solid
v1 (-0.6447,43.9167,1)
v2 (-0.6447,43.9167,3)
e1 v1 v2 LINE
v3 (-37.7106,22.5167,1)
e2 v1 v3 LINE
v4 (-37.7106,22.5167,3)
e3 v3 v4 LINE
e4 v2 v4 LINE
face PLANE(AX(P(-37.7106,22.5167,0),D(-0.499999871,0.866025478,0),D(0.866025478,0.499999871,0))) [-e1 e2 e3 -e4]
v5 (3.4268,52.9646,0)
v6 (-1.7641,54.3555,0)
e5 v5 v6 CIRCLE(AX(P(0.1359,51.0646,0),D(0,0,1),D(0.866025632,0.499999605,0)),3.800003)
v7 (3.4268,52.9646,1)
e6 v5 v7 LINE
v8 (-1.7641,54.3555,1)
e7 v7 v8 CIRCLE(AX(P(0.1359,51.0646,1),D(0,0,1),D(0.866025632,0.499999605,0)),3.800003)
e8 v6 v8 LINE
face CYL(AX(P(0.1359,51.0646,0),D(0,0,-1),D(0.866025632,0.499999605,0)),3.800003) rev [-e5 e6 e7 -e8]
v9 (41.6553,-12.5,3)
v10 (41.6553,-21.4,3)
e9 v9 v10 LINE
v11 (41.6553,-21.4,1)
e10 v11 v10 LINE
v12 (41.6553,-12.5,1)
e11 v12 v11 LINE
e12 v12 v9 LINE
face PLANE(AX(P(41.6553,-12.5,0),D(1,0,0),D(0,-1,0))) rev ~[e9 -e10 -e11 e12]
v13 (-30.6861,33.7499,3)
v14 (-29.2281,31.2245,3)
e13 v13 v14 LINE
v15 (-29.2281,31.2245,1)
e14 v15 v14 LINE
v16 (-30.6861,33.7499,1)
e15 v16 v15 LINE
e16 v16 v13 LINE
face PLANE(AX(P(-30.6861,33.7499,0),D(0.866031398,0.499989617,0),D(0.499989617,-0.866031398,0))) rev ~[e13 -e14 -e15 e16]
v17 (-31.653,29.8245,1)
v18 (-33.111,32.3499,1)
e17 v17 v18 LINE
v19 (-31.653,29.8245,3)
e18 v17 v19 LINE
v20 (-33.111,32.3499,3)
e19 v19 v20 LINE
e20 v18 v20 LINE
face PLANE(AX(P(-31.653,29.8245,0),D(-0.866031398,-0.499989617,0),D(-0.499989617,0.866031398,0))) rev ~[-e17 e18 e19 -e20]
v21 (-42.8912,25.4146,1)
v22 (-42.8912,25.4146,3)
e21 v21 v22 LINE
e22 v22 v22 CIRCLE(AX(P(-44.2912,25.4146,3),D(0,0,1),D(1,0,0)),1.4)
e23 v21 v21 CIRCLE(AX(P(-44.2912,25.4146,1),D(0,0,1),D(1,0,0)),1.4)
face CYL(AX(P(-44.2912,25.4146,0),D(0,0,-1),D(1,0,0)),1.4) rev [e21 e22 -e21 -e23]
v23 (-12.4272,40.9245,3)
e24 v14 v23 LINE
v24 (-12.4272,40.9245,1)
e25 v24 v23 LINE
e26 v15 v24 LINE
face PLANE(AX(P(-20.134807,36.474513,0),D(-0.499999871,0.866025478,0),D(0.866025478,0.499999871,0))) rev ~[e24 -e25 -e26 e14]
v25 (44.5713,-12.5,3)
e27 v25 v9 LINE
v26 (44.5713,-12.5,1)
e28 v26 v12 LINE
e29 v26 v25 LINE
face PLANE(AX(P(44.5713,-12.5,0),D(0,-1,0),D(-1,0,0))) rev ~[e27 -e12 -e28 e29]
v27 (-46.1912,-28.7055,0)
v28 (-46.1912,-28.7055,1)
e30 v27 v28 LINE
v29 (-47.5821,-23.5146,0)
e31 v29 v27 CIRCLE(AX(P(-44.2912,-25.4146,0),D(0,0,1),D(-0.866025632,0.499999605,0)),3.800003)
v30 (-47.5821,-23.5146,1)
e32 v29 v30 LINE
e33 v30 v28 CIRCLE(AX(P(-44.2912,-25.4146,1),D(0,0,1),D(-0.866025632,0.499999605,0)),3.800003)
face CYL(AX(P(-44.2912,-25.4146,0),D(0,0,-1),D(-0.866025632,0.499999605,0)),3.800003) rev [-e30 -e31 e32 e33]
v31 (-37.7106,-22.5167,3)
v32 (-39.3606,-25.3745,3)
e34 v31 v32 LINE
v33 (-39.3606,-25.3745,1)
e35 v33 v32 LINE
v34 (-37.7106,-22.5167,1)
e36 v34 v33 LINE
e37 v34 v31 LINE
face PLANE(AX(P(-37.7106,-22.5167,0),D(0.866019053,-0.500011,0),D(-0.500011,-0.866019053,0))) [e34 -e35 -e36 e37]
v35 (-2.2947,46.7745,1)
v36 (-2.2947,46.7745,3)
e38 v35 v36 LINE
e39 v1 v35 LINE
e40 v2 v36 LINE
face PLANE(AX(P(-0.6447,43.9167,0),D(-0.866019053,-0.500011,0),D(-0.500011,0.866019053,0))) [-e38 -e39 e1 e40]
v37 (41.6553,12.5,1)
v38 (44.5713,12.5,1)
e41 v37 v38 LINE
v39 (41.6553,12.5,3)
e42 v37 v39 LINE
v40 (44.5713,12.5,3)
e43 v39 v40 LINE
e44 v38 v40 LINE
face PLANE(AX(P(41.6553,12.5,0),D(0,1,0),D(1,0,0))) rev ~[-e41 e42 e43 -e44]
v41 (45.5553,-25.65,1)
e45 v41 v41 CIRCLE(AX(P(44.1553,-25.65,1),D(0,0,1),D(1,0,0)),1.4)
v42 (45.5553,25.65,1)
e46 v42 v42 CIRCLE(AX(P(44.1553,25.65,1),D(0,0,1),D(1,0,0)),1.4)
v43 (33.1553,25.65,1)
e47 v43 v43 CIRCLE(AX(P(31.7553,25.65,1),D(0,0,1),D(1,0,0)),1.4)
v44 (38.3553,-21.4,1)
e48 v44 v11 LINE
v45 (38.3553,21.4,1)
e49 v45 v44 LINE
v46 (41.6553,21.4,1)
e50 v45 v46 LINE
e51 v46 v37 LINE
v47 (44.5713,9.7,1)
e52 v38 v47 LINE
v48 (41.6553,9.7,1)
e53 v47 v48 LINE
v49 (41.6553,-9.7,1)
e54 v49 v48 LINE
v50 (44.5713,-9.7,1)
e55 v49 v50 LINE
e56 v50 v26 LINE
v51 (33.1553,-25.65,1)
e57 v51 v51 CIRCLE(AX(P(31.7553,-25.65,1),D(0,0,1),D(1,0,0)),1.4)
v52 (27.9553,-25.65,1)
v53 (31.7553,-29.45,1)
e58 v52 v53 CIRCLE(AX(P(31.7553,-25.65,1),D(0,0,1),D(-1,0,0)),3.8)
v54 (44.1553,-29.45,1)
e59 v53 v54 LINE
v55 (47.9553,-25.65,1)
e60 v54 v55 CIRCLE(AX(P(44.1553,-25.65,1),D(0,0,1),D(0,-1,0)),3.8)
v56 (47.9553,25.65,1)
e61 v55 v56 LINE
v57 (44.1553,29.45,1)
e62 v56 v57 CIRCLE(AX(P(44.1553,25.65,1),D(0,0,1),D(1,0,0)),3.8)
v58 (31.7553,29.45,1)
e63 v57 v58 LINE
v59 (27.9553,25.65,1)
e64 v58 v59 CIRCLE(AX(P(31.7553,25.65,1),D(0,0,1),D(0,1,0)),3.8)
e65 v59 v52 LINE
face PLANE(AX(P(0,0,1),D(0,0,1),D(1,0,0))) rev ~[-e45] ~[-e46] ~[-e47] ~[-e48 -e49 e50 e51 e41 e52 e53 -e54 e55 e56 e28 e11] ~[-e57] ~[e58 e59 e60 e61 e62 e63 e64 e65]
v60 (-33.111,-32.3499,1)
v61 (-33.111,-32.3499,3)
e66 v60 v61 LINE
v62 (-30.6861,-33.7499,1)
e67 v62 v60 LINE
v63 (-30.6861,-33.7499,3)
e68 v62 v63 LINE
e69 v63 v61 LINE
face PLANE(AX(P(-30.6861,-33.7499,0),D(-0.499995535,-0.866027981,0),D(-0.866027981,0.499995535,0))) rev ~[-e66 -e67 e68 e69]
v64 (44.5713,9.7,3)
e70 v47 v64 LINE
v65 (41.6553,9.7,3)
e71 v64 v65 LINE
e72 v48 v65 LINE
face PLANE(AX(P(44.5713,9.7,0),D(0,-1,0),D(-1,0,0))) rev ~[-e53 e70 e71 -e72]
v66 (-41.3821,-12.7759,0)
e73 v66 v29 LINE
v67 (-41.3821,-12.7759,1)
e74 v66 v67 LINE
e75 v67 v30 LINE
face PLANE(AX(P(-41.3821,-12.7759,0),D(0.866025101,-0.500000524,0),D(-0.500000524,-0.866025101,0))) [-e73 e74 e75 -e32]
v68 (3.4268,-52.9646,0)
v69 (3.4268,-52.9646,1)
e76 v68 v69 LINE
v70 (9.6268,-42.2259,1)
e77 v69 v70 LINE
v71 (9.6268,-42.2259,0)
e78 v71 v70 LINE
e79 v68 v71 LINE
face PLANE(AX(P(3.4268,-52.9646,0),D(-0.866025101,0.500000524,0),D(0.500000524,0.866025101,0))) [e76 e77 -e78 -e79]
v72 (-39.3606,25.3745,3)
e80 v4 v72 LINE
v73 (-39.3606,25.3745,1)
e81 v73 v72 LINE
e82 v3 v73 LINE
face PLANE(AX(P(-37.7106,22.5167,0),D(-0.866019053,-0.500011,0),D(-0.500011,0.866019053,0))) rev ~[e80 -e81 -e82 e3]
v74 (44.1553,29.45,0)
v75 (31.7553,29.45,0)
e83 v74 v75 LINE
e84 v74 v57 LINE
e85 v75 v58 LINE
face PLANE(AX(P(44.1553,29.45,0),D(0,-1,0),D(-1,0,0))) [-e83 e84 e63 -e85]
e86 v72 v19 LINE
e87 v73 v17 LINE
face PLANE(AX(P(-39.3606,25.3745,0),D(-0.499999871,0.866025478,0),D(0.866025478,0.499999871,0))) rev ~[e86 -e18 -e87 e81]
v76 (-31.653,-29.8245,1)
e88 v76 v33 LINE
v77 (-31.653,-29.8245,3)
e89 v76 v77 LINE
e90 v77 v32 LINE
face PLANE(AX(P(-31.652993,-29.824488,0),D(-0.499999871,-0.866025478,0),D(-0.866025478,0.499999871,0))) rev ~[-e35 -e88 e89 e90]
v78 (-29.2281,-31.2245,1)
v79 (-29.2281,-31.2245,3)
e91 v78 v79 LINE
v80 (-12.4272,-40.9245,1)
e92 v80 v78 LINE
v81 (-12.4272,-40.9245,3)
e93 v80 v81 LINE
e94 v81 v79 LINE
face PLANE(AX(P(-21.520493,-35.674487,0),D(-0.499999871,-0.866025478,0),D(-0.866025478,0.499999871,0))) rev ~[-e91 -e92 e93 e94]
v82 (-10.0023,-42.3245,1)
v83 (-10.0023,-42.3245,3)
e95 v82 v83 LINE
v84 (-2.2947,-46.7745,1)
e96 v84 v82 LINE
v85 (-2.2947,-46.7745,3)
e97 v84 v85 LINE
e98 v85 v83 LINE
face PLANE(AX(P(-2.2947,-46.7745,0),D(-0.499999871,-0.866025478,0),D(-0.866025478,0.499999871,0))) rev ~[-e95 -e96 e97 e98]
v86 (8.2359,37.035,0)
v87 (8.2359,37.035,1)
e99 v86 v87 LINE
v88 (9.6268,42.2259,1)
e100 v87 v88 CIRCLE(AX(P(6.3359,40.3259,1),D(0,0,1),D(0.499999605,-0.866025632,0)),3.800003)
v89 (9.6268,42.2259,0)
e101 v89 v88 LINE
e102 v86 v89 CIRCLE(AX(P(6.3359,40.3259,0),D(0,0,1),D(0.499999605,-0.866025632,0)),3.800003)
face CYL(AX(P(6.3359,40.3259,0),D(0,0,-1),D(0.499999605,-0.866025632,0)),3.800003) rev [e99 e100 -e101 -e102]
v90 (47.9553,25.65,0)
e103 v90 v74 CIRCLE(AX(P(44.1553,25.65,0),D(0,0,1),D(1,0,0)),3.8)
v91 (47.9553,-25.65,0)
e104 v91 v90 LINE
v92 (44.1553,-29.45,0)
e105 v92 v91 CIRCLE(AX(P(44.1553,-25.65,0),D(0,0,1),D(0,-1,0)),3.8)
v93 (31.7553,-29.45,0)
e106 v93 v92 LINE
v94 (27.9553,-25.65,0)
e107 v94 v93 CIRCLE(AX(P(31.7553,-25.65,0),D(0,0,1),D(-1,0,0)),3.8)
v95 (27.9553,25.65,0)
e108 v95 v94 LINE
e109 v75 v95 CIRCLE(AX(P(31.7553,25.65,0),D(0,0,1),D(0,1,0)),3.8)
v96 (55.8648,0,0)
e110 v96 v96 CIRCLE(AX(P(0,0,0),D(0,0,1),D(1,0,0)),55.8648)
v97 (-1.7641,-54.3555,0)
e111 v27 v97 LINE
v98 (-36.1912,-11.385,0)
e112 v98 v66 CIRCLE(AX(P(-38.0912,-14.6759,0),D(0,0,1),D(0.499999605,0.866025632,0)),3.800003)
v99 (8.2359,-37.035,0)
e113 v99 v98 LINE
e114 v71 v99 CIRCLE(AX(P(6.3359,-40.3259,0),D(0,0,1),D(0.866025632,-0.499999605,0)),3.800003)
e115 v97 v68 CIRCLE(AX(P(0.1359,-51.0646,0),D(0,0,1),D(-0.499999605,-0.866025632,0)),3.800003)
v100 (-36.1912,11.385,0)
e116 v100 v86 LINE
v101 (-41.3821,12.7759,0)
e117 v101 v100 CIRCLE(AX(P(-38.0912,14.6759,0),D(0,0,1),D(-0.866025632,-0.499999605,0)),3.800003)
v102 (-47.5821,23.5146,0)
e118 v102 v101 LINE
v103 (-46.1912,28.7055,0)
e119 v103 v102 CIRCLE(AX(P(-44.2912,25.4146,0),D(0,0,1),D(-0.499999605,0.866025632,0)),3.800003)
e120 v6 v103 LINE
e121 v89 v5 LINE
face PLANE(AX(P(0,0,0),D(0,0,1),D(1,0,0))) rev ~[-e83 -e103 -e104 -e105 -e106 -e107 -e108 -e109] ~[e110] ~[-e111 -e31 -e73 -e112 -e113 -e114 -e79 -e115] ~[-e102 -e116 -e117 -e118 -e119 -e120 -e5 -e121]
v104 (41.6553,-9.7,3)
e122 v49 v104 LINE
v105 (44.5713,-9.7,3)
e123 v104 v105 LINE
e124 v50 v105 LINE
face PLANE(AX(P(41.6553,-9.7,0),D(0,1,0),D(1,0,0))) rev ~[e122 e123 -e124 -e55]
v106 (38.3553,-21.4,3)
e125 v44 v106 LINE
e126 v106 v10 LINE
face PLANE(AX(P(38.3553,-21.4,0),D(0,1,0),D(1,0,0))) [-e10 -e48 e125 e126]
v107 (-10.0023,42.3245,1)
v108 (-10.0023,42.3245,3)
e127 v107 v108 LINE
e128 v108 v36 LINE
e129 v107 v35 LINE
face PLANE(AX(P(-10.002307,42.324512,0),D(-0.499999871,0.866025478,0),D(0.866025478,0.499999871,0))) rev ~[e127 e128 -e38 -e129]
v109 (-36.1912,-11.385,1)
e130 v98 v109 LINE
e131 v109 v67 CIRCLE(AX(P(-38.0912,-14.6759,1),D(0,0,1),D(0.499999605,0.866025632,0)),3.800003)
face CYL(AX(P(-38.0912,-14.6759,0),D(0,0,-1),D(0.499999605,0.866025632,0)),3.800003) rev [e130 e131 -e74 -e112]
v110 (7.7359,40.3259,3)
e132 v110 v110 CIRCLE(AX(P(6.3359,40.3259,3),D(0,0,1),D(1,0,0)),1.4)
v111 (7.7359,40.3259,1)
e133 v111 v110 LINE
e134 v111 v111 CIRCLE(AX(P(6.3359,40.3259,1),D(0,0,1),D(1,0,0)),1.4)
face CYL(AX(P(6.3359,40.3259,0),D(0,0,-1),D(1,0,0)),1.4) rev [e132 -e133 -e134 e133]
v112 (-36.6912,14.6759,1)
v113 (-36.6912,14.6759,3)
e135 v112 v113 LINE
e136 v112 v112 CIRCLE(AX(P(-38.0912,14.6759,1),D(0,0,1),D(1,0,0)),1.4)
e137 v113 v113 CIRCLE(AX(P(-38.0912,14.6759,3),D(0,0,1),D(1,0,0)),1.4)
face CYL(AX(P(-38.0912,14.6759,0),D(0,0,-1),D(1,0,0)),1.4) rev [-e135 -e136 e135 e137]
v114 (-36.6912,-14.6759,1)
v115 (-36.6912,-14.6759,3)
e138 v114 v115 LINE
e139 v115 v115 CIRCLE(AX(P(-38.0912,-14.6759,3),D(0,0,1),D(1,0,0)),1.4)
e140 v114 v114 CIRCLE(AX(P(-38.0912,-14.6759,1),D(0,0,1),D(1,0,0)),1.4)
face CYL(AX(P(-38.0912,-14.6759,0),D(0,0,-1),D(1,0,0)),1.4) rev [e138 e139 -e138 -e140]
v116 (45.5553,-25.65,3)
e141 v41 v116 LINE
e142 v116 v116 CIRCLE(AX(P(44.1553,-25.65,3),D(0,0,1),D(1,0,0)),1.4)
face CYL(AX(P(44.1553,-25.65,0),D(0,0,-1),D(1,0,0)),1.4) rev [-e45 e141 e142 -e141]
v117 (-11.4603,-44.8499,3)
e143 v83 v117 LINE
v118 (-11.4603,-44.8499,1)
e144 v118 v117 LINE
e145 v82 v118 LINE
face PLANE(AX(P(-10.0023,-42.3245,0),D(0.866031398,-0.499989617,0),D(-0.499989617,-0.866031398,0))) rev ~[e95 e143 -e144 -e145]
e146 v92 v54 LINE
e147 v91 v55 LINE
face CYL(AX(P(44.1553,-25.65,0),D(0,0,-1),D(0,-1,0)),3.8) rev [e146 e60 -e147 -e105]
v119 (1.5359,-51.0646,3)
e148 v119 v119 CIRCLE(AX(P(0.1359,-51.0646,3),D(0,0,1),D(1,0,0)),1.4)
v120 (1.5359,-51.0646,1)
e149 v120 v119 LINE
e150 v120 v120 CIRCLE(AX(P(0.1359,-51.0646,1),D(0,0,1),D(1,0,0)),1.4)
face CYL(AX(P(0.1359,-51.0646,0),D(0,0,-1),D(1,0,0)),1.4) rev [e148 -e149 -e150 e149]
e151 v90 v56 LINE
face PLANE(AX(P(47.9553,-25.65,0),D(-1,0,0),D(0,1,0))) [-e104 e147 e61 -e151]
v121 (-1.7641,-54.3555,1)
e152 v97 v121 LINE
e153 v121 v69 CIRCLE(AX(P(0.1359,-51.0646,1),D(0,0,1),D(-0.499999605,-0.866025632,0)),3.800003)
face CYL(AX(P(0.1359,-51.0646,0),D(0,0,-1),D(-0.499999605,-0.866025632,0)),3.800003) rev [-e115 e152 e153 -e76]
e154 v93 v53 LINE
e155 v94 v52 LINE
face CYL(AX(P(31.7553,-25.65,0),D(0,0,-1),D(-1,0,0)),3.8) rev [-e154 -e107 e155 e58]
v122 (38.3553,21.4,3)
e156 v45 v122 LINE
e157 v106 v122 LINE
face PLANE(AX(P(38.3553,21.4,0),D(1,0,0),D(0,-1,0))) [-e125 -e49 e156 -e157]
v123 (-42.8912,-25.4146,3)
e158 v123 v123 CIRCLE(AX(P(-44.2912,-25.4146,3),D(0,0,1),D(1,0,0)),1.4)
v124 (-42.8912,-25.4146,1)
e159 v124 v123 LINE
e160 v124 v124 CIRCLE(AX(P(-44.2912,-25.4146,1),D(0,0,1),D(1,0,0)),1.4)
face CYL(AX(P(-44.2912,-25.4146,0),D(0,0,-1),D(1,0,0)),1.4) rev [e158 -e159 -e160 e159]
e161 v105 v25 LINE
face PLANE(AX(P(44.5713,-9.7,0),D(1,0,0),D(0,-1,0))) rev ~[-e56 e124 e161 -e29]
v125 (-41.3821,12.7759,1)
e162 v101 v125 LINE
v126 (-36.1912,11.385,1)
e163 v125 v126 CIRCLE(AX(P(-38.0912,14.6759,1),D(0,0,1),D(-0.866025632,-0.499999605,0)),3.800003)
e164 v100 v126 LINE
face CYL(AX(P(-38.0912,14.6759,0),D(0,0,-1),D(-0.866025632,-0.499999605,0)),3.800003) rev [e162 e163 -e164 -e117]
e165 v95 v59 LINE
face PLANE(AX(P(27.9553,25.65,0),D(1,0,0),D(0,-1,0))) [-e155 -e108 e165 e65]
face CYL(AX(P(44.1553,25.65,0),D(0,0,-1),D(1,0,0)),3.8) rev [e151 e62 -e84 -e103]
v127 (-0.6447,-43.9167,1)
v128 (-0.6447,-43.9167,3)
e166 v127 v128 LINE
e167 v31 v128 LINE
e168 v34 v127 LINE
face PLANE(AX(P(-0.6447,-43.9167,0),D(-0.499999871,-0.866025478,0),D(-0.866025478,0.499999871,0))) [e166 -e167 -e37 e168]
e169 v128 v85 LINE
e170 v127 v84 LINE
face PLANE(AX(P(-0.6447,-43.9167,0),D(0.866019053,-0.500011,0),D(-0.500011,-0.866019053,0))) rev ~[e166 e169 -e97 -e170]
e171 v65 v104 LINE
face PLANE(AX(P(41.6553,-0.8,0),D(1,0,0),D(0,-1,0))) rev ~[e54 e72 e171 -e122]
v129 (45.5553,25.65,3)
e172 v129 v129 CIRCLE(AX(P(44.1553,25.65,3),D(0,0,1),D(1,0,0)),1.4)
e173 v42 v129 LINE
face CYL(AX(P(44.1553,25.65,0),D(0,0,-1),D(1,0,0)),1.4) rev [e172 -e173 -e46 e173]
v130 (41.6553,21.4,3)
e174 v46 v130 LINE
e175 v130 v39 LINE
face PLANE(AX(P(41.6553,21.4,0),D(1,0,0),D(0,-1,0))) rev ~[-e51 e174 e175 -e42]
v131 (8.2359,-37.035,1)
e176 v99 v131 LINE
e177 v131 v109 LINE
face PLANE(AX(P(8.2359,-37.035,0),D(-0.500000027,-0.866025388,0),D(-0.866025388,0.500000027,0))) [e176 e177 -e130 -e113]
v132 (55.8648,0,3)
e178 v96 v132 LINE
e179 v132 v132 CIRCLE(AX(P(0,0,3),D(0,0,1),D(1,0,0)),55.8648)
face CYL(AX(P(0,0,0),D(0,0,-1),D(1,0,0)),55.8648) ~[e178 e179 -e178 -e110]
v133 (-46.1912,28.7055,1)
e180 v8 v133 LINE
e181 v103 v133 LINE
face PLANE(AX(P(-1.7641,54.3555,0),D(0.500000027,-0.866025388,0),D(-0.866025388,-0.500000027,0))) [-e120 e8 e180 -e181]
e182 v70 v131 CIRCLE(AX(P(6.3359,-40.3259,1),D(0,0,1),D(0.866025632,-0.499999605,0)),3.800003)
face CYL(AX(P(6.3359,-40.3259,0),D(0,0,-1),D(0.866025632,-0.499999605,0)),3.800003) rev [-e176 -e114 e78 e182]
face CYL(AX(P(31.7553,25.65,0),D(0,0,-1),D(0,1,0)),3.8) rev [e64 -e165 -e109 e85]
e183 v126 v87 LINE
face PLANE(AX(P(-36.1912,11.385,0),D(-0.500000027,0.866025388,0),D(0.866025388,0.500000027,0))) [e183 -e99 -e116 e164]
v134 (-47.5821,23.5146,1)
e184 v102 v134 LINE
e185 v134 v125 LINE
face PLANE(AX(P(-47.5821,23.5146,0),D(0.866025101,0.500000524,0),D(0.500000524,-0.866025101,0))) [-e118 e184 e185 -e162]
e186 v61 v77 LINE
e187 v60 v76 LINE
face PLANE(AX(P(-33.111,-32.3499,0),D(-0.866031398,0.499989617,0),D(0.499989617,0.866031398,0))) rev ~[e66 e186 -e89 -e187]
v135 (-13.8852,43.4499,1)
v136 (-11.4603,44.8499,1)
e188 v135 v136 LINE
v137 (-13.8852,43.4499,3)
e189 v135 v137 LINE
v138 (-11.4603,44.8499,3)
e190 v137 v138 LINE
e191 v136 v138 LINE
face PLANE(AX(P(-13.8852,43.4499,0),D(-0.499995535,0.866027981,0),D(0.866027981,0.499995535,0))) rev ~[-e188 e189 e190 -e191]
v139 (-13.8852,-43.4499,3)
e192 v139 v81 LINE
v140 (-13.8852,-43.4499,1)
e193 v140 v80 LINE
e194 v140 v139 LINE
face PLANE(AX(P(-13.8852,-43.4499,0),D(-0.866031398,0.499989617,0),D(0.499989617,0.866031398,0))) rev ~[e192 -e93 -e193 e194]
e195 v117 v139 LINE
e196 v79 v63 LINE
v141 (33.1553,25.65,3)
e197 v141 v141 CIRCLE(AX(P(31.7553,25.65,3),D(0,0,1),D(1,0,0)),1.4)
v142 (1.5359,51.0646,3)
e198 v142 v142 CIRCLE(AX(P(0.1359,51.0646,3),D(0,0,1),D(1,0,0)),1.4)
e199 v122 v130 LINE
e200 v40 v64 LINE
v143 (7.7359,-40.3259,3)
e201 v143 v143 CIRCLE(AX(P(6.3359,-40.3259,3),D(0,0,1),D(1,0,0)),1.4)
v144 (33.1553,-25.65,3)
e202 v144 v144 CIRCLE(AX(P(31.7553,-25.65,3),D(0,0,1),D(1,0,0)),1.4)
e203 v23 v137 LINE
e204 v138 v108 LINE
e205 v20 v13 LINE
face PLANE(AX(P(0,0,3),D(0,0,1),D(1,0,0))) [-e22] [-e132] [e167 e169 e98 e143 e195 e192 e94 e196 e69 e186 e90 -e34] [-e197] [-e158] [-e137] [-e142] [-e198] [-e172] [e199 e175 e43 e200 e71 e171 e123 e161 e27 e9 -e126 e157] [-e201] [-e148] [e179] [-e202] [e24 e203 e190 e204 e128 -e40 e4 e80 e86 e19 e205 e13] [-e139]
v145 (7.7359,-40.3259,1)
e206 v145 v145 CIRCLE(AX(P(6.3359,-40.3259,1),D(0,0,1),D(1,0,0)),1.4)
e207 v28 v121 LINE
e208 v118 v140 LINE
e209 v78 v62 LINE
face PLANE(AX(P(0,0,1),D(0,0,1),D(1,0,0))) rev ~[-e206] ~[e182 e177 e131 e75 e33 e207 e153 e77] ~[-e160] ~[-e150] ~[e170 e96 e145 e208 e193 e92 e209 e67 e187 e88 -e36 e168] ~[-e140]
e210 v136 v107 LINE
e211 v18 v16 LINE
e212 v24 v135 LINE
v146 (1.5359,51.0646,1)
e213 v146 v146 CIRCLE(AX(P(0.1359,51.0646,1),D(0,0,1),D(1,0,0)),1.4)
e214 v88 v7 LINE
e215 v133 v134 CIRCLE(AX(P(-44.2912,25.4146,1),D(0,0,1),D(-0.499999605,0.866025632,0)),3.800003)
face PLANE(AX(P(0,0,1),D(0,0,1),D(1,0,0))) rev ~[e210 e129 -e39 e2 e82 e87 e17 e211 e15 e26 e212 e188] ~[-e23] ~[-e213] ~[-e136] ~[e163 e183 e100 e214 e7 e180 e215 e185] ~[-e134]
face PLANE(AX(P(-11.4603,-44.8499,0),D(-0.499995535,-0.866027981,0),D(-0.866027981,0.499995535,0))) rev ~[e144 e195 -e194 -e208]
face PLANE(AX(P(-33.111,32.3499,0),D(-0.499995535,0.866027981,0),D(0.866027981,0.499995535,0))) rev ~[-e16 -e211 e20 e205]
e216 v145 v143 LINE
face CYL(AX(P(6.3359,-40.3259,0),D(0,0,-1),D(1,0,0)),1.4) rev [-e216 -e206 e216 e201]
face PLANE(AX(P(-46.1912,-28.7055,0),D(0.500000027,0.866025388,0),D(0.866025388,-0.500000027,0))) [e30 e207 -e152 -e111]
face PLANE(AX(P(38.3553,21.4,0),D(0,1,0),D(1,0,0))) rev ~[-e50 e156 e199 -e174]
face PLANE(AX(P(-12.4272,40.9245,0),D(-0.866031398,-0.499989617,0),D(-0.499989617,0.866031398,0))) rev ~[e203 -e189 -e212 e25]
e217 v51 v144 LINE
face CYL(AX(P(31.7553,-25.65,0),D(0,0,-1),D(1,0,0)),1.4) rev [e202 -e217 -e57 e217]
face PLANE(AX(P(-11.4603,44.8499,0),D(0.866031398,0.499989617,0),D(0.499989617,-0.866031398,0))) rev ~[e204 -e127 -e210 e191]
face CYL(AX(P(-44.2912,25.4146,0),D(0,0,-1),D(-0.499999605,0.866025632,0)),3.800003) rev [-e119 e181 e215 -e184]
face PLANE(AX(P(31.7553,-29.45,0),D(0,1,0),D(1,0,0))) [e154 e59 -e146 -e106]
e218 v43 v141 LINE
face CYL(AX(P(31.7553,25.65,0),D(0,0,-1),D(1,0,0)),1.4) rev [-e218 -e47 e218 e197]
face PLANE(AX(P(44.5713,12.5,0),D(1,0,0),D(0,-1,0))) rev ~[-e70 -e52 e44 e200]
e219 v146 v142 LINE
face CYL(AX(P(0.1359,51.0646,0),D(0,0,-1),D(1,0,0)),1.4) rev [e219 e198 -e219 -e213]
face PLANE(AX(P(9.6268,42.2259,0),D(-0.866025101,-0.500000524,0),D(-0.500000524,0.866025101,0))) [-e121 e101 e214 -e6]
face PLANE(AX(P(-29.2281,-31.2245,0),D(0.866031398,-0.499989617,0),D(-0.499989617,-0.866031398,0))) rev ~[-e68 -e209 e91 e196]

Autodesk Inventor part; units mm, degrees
ref_plane "YZ Plane" through (0, 0, 0) normal (1, 0, 0) x (0, 1, 0)
ref_plane "XZ Plane" through (0, 0, 0) normal (0, 1, 0) x (-1, 0, 0)
ref_plane "XY Plane" through (0, 0, 0) normal (0, 0, 1) x (1, 0, 0)
sketch "Skizze1" plane through (0, 0, 0) normal (0, 0, 1) x (1, 0, 0)
  line L0 (0, 78.2107) -> (0, -78.2107) construction
  line L1 (-128.6657, 0) -> (86.6199, 0) construction
  line L2 (31.7553, 29.05) -> (44.1553, 29.05) construction
  line L3 (47.5553, 25.65) -> (47.5553, -25.65) construction
  line L4 (44.1553, -29.05) -> (31.7553, -29.05) construction
  line L5 (28.3553, -25.65) -> (28.3553, 25.65) construction
  arc A0 (31.7553, 29.05) -> (28.3553, 25.65) centre (31.7553, 25.65) ccw construction
  arc A1 (47.5553, 25.65) -> (44.1553, 29.05) centre (44.1553, 25.65) ccw construction
  arc A2 (44.1553, -29.05) -> (47.5553, -25.65) centre (44.1553, -25.65) ccw construction
  arc A3 (28.3553, -25.65) -> (31.7553, -29.05) centre (31.7553, -25.65) ccw construction
  circle A4 centre (31.7553, 25.65) radius 1.4
  circle A5 centre (44.1553, 25.65) radius 1.4
  circle A6 centre (31.7553, -25.65) radius 1.4
  circle A7 centre (44.1553, -25.65) radius 1.4
  line L6 (41.6553, 21.4) -> (41.6553, -21.4)
  line L7 (38.3553, 21.4) -> (38.3553, -21.4)
  line L8 (38.3553, 21.4) -> (41.6553, 21.4)
  line L9 (38.3553, -21.4) -> (41.6553, -21.4)
  line L10 (38.3553, 0.8) -> (41.6553, 0.8)
  line L11 (38.3553, -0.8) -> (41.6553, -0.8)
  line L12 (41.6553, 12.5) -> (44.5713, 12.5)
  line L13 (44.5713, 12.5) -> (44.5713, 9.7)
  line L14 (44.5713, 9.7) -> (41.6553, 9.7)
  line L15 (41.6553, -9.7) -> (44.5713, -9.7)
  line L16 (44.5713, -9.7) -> (44.5713, -12.5)
  line L17 (44.5713, -12.5) -> (41.6553, -12.5)
  line L18 (44.1553, 29.45) -> (31.7553, 29.45)
  arc A8 (31.7553, 29.45) -> (27.9553, 25.65) centre (31.7553, 25.65) ccw
  line L19 (27.9553, 25.65) -> (27.9553, -25.65)
  arc A9 (27.9553, -25.65) -> (31.7553, -29.45) centre (31.7553, -25.65) ccw
  line L20 (31.7553, -29.45) -> (44.1553, -29.45)
  arc A10 (44.1553, -29.45) -> (47.9553, -25.65) centre (44.1553, -25.65) ccw
  line L21 (47.9553, -25.65) -> (47.9553, 25.65)
  arc A11 (47.9553, 25.65) -> (44.1553, 29.45) centre (44.1553, 25.65) ccw
  line L22 (25.9072, -29.1198) -> (28.4872, -27.589) construction
  line L23 (-0.6447, 43.9167) -> (-2.2947, 46.7745)
  circle A12 centre (0.1359, 51.0646) radius 1.4
  arc A13 (3.0804, 52.7646) -> (-1.5641, 54.0091) centre (0.1359, 51.0646) ccw construction
  arc A14 (3.4268, 52.9646) -> (-1.7641, 54.3555) centre (0.1359, 51.0646) ccw
  circle A15 centre (6.3359, 40.3259) radius 1.4
  line L24 (12.2649, 36.9962) -> (9.6492, 38.4652) construction
  arc A16 (8.0359, 37.3814) -> (9.2804, 42.0259) centre (6.3359, 40.3259) ccw construction
  arc A17 (8.2359, 37.035) -> (9.6268, 42.2259) centre (6.3359, 40.3259) ccw
  line L25 (9.6268, 42.2259) -> (3.4268, 52.9646)
  line L26 (3.0804, 52.7646) -> (9.2804, 42.0259) construction
  line L27 (-41.0357, 12.9759) -> (-47.2357, 23.7146) construction
  arc A18 (-41.0357, 12.9759) -> (-36.3912, 11.7314) centre (-38.0912, 14.6759) ccw construction
  circle A19 centre (-38.0912, 14.6759) radius 1.4
  circle A20 centre (-44.2912, 25.4146) radius 1.4
  arc A21 (-41.3821, 12.7759) -> (-36.1912, 11.385) centre (-38.0912, 14.6759) ccw
  line L28 (-47.5821, 23.5146) -> (-41.3821, 12.7759)
  arc A22 (-45.9912, 28.3591) -> (-47.2357, 23.7146) centre (-44.2912, 25.4146) ccw construction
  arc A23 (-46.1912, 28.7055) -> (-47.5821, 23.5146) centre (-44.2912, 25.4146) ccw
  line L29 (-11.4603, 44.8499) -> (-10.0023, 42.3245)
  line L30 (-13.8852, 43.4499) -> (-11.4603, 44.8499)
  line L31 (-12.4272, 40.9245) -> (-13.8852, 43.4499)
  line L32 (-37.7106, 22.5167) -> (-39.3606, 25.3745)
  line L33 (-31.653, 29.8245) -> (-33.111, 32.3499)
  line L34 (-33.111, 32.3499) -> (-30.6861, 33.7499)
  line L35 (-30.6861, 33.7499) -> (-29.2281, 31.2245)
  line L36 (-19.8705, 32.8167) -> (-21.5205, 35.6745)
  line L37 (-18.4848, 33.6167) -> (-20.1348, 36.4745)
  line L38 (-39.3606, 25.3745) -> (-2.2947, 46.7745)
  line L39 (-1.7641, 54.3555) -> (-46.1912, 28.7055)
  line L40 (-45.9912, 28.3591) -> (-1.5641, 54.0091) construction
  line L41 (8.0359, 37.3814) -> (-36.3912, 11.7314) construction
  line L42 (-36.1912, 11.385) -> (8.2359, 37.035)
  line L43 (-37.7106, 22.5167) -> (-0.6447, 43.9167)
  line L44 (-37.7106, -22.5167) -> (-39.3606, -25.3745)
  circle A24 centre (-44.2912, -25.4146) radius 1.4
  arc A25 (-47.2357, -23.7146) -> (-45.9912, -28.3591) centre (-44.2912, -25.4146) ccw construction
  arc A26 (-47.5821, -23.5146) -> (-46.1912, -28.7055) centre (-44.2912, -25.4146) ccw
  circle A27 centre (-38.0912, -14.6759) radius 1.4
  line L45 (-38.1721, -7.8764) -> (-38.1364, -10.8762) construction
  arc A28 (-36.3912, -11.7314) -> (-41.0357, -12.9759) centre (-38.0912, -14.6759) ccw construction
  arc A29 (-36.1912, -11.385) -> (-41.3821, -12.7759) centre (-38.0912, -14.6759) ccw
  line L46 (-41.3821, -12.7759) -> (-47.5821, -23.5146)
  line L47 (-47.2357, -23.7146) -> (-41.0357, -12.9759) construction
  line L48 (9.2804, -42.0259) -> (3.0804, -52.7646) construction
  arc A30 (9.2804, -42.0259) -> (8.0359, -37.3814) centre (6.3359, -40.3259) ccw construction
  circle A31 centre (6.3359, -40.3259) radius 1.4
  circle A32 centre (0.1359, -51.0646) radius 1.4
  arc A33 (9.6268, -42.2259) -> (8.2359, -37.035) centre (6.3359, -40.3259) ccw
  line L49 (3.4268, -52.9646) -> (9.6268, -42.2259)
  arc A34 (-1.5641, -54.0091) -> (3.0804, -52.7646) centre (0.1359, -51.0646) ccw construction
  arc A35 (-1.7641, -54.3555) -> (3.4268, -52.9646) centre (0.1359, -51.0646) ccw
  line L50 (-33.111, -32.3499) -> (-31.653, -29.8245)
  line L51 (-30.6861, -33.7499) -> (-33.111, -32.3499)
  line L52 (-29.2281, -31.2245) -> (-30.6861, -33.7499)
  line L53 (-0.6447, -43.9167) -> (-2.2947, -46.7745)
  line L54 (-10.0023, -42.3245) -> (-11.4603, -44.8499)
  line L55 (-11.4603, -44.8499) -> (-13.8852, -43.4499)
  line L56 (-13.8852, -43.4499) -> (-12.4272, -40.9245)
  line L57 (-18.4848, -33.6167) -> (-20.1348, -36.4745)
  line L58 (-19.8705, -32.8167) -> (-21.5205, -35.6745)
  line L59 (-2.2947, -46.7745) -> (-39.3606, -25.3745)
  line L60 (-46.1912, -28.7055) -> (-1.7641, -54.3555)
  line L61 (-1.5641, -54.0091) -> (-45.9912, -28.3591) construction
  line L62 (-36.3912, -11.7314) -> (8.0359, -37.3814) construction
  line L63 (8.2359, -37.035) -> (-36.1912, -11.385)
  line L64 (-0.6447, -43.9167) -> (-37.7106, -22.5167)
  line L65 (-31.8985, 33.0499) -> (-43.6029, 53.3224) construction
  line L66 (-34.0905, 36.8465) -> (-97.9106, 0) construction
  line L67 (-31.8985, -33.0499) -> (-43.7977, -53.6598) construction
  line L68 (-34.0905, -36.8465) -> (-97.9106, 0) construction
  circle A36 centre (0, 0) radius 55.8648
  line L69 (-48.4545, 27.8035) -> (-47.5871, 27.3058) construction
  line L70 (-42.3106, 30.4841) -> (-24.7106, 0) construction
  dimension "d1" = 58.1
  dimension "d2" = 19.2
  dimension "d3" = 3.4
  dimension "d5" = 2.8
  dimension "d6" = 5.9
  dimension "d7" = 3.3
  dimension "d8" = 20.6
  dimension "d9" = 1.6
  dimension "d10" = 2.984
  dimension "d11" = 2.8
  dimension "d12" = 19.4
  dimension "d21" = 0.4
  dimension "d22" = 3
  dimension "d32" = 360
  dimension "d44" = 1
  dimension "d45" = 1
  dimension "d47" = 1
  dimension "d53" = 35.2
extrude "Extrusion5" add sketch "Skizze1" along normal blind 3 contours A11 L21 A10 L20 A9 L19 A8 L18 | L25 A17 L42 A21 L28 A23 L39 A14 | L46 A29 L63 A33 L49 A35 L60 A26 | A36
extrude "Extrusion4" cut sketch "Skizze1" along normal blind 1 contours L10 L6 L11 L7 | A11 L21 A10 L20 A9 L19 A8 L18 | L43 L36 L38 L37 | L25 A17 L42 A21 L28 A23 L39 A14 | L64 L57 L59 L58 | L46 A29 L63 A33 L49 A35 L60 A26
equation "\"d22\" = d20"
equation "\"d20\" = 3"
properties part number "Stewart-Platform-Base-Innenanordnung"
